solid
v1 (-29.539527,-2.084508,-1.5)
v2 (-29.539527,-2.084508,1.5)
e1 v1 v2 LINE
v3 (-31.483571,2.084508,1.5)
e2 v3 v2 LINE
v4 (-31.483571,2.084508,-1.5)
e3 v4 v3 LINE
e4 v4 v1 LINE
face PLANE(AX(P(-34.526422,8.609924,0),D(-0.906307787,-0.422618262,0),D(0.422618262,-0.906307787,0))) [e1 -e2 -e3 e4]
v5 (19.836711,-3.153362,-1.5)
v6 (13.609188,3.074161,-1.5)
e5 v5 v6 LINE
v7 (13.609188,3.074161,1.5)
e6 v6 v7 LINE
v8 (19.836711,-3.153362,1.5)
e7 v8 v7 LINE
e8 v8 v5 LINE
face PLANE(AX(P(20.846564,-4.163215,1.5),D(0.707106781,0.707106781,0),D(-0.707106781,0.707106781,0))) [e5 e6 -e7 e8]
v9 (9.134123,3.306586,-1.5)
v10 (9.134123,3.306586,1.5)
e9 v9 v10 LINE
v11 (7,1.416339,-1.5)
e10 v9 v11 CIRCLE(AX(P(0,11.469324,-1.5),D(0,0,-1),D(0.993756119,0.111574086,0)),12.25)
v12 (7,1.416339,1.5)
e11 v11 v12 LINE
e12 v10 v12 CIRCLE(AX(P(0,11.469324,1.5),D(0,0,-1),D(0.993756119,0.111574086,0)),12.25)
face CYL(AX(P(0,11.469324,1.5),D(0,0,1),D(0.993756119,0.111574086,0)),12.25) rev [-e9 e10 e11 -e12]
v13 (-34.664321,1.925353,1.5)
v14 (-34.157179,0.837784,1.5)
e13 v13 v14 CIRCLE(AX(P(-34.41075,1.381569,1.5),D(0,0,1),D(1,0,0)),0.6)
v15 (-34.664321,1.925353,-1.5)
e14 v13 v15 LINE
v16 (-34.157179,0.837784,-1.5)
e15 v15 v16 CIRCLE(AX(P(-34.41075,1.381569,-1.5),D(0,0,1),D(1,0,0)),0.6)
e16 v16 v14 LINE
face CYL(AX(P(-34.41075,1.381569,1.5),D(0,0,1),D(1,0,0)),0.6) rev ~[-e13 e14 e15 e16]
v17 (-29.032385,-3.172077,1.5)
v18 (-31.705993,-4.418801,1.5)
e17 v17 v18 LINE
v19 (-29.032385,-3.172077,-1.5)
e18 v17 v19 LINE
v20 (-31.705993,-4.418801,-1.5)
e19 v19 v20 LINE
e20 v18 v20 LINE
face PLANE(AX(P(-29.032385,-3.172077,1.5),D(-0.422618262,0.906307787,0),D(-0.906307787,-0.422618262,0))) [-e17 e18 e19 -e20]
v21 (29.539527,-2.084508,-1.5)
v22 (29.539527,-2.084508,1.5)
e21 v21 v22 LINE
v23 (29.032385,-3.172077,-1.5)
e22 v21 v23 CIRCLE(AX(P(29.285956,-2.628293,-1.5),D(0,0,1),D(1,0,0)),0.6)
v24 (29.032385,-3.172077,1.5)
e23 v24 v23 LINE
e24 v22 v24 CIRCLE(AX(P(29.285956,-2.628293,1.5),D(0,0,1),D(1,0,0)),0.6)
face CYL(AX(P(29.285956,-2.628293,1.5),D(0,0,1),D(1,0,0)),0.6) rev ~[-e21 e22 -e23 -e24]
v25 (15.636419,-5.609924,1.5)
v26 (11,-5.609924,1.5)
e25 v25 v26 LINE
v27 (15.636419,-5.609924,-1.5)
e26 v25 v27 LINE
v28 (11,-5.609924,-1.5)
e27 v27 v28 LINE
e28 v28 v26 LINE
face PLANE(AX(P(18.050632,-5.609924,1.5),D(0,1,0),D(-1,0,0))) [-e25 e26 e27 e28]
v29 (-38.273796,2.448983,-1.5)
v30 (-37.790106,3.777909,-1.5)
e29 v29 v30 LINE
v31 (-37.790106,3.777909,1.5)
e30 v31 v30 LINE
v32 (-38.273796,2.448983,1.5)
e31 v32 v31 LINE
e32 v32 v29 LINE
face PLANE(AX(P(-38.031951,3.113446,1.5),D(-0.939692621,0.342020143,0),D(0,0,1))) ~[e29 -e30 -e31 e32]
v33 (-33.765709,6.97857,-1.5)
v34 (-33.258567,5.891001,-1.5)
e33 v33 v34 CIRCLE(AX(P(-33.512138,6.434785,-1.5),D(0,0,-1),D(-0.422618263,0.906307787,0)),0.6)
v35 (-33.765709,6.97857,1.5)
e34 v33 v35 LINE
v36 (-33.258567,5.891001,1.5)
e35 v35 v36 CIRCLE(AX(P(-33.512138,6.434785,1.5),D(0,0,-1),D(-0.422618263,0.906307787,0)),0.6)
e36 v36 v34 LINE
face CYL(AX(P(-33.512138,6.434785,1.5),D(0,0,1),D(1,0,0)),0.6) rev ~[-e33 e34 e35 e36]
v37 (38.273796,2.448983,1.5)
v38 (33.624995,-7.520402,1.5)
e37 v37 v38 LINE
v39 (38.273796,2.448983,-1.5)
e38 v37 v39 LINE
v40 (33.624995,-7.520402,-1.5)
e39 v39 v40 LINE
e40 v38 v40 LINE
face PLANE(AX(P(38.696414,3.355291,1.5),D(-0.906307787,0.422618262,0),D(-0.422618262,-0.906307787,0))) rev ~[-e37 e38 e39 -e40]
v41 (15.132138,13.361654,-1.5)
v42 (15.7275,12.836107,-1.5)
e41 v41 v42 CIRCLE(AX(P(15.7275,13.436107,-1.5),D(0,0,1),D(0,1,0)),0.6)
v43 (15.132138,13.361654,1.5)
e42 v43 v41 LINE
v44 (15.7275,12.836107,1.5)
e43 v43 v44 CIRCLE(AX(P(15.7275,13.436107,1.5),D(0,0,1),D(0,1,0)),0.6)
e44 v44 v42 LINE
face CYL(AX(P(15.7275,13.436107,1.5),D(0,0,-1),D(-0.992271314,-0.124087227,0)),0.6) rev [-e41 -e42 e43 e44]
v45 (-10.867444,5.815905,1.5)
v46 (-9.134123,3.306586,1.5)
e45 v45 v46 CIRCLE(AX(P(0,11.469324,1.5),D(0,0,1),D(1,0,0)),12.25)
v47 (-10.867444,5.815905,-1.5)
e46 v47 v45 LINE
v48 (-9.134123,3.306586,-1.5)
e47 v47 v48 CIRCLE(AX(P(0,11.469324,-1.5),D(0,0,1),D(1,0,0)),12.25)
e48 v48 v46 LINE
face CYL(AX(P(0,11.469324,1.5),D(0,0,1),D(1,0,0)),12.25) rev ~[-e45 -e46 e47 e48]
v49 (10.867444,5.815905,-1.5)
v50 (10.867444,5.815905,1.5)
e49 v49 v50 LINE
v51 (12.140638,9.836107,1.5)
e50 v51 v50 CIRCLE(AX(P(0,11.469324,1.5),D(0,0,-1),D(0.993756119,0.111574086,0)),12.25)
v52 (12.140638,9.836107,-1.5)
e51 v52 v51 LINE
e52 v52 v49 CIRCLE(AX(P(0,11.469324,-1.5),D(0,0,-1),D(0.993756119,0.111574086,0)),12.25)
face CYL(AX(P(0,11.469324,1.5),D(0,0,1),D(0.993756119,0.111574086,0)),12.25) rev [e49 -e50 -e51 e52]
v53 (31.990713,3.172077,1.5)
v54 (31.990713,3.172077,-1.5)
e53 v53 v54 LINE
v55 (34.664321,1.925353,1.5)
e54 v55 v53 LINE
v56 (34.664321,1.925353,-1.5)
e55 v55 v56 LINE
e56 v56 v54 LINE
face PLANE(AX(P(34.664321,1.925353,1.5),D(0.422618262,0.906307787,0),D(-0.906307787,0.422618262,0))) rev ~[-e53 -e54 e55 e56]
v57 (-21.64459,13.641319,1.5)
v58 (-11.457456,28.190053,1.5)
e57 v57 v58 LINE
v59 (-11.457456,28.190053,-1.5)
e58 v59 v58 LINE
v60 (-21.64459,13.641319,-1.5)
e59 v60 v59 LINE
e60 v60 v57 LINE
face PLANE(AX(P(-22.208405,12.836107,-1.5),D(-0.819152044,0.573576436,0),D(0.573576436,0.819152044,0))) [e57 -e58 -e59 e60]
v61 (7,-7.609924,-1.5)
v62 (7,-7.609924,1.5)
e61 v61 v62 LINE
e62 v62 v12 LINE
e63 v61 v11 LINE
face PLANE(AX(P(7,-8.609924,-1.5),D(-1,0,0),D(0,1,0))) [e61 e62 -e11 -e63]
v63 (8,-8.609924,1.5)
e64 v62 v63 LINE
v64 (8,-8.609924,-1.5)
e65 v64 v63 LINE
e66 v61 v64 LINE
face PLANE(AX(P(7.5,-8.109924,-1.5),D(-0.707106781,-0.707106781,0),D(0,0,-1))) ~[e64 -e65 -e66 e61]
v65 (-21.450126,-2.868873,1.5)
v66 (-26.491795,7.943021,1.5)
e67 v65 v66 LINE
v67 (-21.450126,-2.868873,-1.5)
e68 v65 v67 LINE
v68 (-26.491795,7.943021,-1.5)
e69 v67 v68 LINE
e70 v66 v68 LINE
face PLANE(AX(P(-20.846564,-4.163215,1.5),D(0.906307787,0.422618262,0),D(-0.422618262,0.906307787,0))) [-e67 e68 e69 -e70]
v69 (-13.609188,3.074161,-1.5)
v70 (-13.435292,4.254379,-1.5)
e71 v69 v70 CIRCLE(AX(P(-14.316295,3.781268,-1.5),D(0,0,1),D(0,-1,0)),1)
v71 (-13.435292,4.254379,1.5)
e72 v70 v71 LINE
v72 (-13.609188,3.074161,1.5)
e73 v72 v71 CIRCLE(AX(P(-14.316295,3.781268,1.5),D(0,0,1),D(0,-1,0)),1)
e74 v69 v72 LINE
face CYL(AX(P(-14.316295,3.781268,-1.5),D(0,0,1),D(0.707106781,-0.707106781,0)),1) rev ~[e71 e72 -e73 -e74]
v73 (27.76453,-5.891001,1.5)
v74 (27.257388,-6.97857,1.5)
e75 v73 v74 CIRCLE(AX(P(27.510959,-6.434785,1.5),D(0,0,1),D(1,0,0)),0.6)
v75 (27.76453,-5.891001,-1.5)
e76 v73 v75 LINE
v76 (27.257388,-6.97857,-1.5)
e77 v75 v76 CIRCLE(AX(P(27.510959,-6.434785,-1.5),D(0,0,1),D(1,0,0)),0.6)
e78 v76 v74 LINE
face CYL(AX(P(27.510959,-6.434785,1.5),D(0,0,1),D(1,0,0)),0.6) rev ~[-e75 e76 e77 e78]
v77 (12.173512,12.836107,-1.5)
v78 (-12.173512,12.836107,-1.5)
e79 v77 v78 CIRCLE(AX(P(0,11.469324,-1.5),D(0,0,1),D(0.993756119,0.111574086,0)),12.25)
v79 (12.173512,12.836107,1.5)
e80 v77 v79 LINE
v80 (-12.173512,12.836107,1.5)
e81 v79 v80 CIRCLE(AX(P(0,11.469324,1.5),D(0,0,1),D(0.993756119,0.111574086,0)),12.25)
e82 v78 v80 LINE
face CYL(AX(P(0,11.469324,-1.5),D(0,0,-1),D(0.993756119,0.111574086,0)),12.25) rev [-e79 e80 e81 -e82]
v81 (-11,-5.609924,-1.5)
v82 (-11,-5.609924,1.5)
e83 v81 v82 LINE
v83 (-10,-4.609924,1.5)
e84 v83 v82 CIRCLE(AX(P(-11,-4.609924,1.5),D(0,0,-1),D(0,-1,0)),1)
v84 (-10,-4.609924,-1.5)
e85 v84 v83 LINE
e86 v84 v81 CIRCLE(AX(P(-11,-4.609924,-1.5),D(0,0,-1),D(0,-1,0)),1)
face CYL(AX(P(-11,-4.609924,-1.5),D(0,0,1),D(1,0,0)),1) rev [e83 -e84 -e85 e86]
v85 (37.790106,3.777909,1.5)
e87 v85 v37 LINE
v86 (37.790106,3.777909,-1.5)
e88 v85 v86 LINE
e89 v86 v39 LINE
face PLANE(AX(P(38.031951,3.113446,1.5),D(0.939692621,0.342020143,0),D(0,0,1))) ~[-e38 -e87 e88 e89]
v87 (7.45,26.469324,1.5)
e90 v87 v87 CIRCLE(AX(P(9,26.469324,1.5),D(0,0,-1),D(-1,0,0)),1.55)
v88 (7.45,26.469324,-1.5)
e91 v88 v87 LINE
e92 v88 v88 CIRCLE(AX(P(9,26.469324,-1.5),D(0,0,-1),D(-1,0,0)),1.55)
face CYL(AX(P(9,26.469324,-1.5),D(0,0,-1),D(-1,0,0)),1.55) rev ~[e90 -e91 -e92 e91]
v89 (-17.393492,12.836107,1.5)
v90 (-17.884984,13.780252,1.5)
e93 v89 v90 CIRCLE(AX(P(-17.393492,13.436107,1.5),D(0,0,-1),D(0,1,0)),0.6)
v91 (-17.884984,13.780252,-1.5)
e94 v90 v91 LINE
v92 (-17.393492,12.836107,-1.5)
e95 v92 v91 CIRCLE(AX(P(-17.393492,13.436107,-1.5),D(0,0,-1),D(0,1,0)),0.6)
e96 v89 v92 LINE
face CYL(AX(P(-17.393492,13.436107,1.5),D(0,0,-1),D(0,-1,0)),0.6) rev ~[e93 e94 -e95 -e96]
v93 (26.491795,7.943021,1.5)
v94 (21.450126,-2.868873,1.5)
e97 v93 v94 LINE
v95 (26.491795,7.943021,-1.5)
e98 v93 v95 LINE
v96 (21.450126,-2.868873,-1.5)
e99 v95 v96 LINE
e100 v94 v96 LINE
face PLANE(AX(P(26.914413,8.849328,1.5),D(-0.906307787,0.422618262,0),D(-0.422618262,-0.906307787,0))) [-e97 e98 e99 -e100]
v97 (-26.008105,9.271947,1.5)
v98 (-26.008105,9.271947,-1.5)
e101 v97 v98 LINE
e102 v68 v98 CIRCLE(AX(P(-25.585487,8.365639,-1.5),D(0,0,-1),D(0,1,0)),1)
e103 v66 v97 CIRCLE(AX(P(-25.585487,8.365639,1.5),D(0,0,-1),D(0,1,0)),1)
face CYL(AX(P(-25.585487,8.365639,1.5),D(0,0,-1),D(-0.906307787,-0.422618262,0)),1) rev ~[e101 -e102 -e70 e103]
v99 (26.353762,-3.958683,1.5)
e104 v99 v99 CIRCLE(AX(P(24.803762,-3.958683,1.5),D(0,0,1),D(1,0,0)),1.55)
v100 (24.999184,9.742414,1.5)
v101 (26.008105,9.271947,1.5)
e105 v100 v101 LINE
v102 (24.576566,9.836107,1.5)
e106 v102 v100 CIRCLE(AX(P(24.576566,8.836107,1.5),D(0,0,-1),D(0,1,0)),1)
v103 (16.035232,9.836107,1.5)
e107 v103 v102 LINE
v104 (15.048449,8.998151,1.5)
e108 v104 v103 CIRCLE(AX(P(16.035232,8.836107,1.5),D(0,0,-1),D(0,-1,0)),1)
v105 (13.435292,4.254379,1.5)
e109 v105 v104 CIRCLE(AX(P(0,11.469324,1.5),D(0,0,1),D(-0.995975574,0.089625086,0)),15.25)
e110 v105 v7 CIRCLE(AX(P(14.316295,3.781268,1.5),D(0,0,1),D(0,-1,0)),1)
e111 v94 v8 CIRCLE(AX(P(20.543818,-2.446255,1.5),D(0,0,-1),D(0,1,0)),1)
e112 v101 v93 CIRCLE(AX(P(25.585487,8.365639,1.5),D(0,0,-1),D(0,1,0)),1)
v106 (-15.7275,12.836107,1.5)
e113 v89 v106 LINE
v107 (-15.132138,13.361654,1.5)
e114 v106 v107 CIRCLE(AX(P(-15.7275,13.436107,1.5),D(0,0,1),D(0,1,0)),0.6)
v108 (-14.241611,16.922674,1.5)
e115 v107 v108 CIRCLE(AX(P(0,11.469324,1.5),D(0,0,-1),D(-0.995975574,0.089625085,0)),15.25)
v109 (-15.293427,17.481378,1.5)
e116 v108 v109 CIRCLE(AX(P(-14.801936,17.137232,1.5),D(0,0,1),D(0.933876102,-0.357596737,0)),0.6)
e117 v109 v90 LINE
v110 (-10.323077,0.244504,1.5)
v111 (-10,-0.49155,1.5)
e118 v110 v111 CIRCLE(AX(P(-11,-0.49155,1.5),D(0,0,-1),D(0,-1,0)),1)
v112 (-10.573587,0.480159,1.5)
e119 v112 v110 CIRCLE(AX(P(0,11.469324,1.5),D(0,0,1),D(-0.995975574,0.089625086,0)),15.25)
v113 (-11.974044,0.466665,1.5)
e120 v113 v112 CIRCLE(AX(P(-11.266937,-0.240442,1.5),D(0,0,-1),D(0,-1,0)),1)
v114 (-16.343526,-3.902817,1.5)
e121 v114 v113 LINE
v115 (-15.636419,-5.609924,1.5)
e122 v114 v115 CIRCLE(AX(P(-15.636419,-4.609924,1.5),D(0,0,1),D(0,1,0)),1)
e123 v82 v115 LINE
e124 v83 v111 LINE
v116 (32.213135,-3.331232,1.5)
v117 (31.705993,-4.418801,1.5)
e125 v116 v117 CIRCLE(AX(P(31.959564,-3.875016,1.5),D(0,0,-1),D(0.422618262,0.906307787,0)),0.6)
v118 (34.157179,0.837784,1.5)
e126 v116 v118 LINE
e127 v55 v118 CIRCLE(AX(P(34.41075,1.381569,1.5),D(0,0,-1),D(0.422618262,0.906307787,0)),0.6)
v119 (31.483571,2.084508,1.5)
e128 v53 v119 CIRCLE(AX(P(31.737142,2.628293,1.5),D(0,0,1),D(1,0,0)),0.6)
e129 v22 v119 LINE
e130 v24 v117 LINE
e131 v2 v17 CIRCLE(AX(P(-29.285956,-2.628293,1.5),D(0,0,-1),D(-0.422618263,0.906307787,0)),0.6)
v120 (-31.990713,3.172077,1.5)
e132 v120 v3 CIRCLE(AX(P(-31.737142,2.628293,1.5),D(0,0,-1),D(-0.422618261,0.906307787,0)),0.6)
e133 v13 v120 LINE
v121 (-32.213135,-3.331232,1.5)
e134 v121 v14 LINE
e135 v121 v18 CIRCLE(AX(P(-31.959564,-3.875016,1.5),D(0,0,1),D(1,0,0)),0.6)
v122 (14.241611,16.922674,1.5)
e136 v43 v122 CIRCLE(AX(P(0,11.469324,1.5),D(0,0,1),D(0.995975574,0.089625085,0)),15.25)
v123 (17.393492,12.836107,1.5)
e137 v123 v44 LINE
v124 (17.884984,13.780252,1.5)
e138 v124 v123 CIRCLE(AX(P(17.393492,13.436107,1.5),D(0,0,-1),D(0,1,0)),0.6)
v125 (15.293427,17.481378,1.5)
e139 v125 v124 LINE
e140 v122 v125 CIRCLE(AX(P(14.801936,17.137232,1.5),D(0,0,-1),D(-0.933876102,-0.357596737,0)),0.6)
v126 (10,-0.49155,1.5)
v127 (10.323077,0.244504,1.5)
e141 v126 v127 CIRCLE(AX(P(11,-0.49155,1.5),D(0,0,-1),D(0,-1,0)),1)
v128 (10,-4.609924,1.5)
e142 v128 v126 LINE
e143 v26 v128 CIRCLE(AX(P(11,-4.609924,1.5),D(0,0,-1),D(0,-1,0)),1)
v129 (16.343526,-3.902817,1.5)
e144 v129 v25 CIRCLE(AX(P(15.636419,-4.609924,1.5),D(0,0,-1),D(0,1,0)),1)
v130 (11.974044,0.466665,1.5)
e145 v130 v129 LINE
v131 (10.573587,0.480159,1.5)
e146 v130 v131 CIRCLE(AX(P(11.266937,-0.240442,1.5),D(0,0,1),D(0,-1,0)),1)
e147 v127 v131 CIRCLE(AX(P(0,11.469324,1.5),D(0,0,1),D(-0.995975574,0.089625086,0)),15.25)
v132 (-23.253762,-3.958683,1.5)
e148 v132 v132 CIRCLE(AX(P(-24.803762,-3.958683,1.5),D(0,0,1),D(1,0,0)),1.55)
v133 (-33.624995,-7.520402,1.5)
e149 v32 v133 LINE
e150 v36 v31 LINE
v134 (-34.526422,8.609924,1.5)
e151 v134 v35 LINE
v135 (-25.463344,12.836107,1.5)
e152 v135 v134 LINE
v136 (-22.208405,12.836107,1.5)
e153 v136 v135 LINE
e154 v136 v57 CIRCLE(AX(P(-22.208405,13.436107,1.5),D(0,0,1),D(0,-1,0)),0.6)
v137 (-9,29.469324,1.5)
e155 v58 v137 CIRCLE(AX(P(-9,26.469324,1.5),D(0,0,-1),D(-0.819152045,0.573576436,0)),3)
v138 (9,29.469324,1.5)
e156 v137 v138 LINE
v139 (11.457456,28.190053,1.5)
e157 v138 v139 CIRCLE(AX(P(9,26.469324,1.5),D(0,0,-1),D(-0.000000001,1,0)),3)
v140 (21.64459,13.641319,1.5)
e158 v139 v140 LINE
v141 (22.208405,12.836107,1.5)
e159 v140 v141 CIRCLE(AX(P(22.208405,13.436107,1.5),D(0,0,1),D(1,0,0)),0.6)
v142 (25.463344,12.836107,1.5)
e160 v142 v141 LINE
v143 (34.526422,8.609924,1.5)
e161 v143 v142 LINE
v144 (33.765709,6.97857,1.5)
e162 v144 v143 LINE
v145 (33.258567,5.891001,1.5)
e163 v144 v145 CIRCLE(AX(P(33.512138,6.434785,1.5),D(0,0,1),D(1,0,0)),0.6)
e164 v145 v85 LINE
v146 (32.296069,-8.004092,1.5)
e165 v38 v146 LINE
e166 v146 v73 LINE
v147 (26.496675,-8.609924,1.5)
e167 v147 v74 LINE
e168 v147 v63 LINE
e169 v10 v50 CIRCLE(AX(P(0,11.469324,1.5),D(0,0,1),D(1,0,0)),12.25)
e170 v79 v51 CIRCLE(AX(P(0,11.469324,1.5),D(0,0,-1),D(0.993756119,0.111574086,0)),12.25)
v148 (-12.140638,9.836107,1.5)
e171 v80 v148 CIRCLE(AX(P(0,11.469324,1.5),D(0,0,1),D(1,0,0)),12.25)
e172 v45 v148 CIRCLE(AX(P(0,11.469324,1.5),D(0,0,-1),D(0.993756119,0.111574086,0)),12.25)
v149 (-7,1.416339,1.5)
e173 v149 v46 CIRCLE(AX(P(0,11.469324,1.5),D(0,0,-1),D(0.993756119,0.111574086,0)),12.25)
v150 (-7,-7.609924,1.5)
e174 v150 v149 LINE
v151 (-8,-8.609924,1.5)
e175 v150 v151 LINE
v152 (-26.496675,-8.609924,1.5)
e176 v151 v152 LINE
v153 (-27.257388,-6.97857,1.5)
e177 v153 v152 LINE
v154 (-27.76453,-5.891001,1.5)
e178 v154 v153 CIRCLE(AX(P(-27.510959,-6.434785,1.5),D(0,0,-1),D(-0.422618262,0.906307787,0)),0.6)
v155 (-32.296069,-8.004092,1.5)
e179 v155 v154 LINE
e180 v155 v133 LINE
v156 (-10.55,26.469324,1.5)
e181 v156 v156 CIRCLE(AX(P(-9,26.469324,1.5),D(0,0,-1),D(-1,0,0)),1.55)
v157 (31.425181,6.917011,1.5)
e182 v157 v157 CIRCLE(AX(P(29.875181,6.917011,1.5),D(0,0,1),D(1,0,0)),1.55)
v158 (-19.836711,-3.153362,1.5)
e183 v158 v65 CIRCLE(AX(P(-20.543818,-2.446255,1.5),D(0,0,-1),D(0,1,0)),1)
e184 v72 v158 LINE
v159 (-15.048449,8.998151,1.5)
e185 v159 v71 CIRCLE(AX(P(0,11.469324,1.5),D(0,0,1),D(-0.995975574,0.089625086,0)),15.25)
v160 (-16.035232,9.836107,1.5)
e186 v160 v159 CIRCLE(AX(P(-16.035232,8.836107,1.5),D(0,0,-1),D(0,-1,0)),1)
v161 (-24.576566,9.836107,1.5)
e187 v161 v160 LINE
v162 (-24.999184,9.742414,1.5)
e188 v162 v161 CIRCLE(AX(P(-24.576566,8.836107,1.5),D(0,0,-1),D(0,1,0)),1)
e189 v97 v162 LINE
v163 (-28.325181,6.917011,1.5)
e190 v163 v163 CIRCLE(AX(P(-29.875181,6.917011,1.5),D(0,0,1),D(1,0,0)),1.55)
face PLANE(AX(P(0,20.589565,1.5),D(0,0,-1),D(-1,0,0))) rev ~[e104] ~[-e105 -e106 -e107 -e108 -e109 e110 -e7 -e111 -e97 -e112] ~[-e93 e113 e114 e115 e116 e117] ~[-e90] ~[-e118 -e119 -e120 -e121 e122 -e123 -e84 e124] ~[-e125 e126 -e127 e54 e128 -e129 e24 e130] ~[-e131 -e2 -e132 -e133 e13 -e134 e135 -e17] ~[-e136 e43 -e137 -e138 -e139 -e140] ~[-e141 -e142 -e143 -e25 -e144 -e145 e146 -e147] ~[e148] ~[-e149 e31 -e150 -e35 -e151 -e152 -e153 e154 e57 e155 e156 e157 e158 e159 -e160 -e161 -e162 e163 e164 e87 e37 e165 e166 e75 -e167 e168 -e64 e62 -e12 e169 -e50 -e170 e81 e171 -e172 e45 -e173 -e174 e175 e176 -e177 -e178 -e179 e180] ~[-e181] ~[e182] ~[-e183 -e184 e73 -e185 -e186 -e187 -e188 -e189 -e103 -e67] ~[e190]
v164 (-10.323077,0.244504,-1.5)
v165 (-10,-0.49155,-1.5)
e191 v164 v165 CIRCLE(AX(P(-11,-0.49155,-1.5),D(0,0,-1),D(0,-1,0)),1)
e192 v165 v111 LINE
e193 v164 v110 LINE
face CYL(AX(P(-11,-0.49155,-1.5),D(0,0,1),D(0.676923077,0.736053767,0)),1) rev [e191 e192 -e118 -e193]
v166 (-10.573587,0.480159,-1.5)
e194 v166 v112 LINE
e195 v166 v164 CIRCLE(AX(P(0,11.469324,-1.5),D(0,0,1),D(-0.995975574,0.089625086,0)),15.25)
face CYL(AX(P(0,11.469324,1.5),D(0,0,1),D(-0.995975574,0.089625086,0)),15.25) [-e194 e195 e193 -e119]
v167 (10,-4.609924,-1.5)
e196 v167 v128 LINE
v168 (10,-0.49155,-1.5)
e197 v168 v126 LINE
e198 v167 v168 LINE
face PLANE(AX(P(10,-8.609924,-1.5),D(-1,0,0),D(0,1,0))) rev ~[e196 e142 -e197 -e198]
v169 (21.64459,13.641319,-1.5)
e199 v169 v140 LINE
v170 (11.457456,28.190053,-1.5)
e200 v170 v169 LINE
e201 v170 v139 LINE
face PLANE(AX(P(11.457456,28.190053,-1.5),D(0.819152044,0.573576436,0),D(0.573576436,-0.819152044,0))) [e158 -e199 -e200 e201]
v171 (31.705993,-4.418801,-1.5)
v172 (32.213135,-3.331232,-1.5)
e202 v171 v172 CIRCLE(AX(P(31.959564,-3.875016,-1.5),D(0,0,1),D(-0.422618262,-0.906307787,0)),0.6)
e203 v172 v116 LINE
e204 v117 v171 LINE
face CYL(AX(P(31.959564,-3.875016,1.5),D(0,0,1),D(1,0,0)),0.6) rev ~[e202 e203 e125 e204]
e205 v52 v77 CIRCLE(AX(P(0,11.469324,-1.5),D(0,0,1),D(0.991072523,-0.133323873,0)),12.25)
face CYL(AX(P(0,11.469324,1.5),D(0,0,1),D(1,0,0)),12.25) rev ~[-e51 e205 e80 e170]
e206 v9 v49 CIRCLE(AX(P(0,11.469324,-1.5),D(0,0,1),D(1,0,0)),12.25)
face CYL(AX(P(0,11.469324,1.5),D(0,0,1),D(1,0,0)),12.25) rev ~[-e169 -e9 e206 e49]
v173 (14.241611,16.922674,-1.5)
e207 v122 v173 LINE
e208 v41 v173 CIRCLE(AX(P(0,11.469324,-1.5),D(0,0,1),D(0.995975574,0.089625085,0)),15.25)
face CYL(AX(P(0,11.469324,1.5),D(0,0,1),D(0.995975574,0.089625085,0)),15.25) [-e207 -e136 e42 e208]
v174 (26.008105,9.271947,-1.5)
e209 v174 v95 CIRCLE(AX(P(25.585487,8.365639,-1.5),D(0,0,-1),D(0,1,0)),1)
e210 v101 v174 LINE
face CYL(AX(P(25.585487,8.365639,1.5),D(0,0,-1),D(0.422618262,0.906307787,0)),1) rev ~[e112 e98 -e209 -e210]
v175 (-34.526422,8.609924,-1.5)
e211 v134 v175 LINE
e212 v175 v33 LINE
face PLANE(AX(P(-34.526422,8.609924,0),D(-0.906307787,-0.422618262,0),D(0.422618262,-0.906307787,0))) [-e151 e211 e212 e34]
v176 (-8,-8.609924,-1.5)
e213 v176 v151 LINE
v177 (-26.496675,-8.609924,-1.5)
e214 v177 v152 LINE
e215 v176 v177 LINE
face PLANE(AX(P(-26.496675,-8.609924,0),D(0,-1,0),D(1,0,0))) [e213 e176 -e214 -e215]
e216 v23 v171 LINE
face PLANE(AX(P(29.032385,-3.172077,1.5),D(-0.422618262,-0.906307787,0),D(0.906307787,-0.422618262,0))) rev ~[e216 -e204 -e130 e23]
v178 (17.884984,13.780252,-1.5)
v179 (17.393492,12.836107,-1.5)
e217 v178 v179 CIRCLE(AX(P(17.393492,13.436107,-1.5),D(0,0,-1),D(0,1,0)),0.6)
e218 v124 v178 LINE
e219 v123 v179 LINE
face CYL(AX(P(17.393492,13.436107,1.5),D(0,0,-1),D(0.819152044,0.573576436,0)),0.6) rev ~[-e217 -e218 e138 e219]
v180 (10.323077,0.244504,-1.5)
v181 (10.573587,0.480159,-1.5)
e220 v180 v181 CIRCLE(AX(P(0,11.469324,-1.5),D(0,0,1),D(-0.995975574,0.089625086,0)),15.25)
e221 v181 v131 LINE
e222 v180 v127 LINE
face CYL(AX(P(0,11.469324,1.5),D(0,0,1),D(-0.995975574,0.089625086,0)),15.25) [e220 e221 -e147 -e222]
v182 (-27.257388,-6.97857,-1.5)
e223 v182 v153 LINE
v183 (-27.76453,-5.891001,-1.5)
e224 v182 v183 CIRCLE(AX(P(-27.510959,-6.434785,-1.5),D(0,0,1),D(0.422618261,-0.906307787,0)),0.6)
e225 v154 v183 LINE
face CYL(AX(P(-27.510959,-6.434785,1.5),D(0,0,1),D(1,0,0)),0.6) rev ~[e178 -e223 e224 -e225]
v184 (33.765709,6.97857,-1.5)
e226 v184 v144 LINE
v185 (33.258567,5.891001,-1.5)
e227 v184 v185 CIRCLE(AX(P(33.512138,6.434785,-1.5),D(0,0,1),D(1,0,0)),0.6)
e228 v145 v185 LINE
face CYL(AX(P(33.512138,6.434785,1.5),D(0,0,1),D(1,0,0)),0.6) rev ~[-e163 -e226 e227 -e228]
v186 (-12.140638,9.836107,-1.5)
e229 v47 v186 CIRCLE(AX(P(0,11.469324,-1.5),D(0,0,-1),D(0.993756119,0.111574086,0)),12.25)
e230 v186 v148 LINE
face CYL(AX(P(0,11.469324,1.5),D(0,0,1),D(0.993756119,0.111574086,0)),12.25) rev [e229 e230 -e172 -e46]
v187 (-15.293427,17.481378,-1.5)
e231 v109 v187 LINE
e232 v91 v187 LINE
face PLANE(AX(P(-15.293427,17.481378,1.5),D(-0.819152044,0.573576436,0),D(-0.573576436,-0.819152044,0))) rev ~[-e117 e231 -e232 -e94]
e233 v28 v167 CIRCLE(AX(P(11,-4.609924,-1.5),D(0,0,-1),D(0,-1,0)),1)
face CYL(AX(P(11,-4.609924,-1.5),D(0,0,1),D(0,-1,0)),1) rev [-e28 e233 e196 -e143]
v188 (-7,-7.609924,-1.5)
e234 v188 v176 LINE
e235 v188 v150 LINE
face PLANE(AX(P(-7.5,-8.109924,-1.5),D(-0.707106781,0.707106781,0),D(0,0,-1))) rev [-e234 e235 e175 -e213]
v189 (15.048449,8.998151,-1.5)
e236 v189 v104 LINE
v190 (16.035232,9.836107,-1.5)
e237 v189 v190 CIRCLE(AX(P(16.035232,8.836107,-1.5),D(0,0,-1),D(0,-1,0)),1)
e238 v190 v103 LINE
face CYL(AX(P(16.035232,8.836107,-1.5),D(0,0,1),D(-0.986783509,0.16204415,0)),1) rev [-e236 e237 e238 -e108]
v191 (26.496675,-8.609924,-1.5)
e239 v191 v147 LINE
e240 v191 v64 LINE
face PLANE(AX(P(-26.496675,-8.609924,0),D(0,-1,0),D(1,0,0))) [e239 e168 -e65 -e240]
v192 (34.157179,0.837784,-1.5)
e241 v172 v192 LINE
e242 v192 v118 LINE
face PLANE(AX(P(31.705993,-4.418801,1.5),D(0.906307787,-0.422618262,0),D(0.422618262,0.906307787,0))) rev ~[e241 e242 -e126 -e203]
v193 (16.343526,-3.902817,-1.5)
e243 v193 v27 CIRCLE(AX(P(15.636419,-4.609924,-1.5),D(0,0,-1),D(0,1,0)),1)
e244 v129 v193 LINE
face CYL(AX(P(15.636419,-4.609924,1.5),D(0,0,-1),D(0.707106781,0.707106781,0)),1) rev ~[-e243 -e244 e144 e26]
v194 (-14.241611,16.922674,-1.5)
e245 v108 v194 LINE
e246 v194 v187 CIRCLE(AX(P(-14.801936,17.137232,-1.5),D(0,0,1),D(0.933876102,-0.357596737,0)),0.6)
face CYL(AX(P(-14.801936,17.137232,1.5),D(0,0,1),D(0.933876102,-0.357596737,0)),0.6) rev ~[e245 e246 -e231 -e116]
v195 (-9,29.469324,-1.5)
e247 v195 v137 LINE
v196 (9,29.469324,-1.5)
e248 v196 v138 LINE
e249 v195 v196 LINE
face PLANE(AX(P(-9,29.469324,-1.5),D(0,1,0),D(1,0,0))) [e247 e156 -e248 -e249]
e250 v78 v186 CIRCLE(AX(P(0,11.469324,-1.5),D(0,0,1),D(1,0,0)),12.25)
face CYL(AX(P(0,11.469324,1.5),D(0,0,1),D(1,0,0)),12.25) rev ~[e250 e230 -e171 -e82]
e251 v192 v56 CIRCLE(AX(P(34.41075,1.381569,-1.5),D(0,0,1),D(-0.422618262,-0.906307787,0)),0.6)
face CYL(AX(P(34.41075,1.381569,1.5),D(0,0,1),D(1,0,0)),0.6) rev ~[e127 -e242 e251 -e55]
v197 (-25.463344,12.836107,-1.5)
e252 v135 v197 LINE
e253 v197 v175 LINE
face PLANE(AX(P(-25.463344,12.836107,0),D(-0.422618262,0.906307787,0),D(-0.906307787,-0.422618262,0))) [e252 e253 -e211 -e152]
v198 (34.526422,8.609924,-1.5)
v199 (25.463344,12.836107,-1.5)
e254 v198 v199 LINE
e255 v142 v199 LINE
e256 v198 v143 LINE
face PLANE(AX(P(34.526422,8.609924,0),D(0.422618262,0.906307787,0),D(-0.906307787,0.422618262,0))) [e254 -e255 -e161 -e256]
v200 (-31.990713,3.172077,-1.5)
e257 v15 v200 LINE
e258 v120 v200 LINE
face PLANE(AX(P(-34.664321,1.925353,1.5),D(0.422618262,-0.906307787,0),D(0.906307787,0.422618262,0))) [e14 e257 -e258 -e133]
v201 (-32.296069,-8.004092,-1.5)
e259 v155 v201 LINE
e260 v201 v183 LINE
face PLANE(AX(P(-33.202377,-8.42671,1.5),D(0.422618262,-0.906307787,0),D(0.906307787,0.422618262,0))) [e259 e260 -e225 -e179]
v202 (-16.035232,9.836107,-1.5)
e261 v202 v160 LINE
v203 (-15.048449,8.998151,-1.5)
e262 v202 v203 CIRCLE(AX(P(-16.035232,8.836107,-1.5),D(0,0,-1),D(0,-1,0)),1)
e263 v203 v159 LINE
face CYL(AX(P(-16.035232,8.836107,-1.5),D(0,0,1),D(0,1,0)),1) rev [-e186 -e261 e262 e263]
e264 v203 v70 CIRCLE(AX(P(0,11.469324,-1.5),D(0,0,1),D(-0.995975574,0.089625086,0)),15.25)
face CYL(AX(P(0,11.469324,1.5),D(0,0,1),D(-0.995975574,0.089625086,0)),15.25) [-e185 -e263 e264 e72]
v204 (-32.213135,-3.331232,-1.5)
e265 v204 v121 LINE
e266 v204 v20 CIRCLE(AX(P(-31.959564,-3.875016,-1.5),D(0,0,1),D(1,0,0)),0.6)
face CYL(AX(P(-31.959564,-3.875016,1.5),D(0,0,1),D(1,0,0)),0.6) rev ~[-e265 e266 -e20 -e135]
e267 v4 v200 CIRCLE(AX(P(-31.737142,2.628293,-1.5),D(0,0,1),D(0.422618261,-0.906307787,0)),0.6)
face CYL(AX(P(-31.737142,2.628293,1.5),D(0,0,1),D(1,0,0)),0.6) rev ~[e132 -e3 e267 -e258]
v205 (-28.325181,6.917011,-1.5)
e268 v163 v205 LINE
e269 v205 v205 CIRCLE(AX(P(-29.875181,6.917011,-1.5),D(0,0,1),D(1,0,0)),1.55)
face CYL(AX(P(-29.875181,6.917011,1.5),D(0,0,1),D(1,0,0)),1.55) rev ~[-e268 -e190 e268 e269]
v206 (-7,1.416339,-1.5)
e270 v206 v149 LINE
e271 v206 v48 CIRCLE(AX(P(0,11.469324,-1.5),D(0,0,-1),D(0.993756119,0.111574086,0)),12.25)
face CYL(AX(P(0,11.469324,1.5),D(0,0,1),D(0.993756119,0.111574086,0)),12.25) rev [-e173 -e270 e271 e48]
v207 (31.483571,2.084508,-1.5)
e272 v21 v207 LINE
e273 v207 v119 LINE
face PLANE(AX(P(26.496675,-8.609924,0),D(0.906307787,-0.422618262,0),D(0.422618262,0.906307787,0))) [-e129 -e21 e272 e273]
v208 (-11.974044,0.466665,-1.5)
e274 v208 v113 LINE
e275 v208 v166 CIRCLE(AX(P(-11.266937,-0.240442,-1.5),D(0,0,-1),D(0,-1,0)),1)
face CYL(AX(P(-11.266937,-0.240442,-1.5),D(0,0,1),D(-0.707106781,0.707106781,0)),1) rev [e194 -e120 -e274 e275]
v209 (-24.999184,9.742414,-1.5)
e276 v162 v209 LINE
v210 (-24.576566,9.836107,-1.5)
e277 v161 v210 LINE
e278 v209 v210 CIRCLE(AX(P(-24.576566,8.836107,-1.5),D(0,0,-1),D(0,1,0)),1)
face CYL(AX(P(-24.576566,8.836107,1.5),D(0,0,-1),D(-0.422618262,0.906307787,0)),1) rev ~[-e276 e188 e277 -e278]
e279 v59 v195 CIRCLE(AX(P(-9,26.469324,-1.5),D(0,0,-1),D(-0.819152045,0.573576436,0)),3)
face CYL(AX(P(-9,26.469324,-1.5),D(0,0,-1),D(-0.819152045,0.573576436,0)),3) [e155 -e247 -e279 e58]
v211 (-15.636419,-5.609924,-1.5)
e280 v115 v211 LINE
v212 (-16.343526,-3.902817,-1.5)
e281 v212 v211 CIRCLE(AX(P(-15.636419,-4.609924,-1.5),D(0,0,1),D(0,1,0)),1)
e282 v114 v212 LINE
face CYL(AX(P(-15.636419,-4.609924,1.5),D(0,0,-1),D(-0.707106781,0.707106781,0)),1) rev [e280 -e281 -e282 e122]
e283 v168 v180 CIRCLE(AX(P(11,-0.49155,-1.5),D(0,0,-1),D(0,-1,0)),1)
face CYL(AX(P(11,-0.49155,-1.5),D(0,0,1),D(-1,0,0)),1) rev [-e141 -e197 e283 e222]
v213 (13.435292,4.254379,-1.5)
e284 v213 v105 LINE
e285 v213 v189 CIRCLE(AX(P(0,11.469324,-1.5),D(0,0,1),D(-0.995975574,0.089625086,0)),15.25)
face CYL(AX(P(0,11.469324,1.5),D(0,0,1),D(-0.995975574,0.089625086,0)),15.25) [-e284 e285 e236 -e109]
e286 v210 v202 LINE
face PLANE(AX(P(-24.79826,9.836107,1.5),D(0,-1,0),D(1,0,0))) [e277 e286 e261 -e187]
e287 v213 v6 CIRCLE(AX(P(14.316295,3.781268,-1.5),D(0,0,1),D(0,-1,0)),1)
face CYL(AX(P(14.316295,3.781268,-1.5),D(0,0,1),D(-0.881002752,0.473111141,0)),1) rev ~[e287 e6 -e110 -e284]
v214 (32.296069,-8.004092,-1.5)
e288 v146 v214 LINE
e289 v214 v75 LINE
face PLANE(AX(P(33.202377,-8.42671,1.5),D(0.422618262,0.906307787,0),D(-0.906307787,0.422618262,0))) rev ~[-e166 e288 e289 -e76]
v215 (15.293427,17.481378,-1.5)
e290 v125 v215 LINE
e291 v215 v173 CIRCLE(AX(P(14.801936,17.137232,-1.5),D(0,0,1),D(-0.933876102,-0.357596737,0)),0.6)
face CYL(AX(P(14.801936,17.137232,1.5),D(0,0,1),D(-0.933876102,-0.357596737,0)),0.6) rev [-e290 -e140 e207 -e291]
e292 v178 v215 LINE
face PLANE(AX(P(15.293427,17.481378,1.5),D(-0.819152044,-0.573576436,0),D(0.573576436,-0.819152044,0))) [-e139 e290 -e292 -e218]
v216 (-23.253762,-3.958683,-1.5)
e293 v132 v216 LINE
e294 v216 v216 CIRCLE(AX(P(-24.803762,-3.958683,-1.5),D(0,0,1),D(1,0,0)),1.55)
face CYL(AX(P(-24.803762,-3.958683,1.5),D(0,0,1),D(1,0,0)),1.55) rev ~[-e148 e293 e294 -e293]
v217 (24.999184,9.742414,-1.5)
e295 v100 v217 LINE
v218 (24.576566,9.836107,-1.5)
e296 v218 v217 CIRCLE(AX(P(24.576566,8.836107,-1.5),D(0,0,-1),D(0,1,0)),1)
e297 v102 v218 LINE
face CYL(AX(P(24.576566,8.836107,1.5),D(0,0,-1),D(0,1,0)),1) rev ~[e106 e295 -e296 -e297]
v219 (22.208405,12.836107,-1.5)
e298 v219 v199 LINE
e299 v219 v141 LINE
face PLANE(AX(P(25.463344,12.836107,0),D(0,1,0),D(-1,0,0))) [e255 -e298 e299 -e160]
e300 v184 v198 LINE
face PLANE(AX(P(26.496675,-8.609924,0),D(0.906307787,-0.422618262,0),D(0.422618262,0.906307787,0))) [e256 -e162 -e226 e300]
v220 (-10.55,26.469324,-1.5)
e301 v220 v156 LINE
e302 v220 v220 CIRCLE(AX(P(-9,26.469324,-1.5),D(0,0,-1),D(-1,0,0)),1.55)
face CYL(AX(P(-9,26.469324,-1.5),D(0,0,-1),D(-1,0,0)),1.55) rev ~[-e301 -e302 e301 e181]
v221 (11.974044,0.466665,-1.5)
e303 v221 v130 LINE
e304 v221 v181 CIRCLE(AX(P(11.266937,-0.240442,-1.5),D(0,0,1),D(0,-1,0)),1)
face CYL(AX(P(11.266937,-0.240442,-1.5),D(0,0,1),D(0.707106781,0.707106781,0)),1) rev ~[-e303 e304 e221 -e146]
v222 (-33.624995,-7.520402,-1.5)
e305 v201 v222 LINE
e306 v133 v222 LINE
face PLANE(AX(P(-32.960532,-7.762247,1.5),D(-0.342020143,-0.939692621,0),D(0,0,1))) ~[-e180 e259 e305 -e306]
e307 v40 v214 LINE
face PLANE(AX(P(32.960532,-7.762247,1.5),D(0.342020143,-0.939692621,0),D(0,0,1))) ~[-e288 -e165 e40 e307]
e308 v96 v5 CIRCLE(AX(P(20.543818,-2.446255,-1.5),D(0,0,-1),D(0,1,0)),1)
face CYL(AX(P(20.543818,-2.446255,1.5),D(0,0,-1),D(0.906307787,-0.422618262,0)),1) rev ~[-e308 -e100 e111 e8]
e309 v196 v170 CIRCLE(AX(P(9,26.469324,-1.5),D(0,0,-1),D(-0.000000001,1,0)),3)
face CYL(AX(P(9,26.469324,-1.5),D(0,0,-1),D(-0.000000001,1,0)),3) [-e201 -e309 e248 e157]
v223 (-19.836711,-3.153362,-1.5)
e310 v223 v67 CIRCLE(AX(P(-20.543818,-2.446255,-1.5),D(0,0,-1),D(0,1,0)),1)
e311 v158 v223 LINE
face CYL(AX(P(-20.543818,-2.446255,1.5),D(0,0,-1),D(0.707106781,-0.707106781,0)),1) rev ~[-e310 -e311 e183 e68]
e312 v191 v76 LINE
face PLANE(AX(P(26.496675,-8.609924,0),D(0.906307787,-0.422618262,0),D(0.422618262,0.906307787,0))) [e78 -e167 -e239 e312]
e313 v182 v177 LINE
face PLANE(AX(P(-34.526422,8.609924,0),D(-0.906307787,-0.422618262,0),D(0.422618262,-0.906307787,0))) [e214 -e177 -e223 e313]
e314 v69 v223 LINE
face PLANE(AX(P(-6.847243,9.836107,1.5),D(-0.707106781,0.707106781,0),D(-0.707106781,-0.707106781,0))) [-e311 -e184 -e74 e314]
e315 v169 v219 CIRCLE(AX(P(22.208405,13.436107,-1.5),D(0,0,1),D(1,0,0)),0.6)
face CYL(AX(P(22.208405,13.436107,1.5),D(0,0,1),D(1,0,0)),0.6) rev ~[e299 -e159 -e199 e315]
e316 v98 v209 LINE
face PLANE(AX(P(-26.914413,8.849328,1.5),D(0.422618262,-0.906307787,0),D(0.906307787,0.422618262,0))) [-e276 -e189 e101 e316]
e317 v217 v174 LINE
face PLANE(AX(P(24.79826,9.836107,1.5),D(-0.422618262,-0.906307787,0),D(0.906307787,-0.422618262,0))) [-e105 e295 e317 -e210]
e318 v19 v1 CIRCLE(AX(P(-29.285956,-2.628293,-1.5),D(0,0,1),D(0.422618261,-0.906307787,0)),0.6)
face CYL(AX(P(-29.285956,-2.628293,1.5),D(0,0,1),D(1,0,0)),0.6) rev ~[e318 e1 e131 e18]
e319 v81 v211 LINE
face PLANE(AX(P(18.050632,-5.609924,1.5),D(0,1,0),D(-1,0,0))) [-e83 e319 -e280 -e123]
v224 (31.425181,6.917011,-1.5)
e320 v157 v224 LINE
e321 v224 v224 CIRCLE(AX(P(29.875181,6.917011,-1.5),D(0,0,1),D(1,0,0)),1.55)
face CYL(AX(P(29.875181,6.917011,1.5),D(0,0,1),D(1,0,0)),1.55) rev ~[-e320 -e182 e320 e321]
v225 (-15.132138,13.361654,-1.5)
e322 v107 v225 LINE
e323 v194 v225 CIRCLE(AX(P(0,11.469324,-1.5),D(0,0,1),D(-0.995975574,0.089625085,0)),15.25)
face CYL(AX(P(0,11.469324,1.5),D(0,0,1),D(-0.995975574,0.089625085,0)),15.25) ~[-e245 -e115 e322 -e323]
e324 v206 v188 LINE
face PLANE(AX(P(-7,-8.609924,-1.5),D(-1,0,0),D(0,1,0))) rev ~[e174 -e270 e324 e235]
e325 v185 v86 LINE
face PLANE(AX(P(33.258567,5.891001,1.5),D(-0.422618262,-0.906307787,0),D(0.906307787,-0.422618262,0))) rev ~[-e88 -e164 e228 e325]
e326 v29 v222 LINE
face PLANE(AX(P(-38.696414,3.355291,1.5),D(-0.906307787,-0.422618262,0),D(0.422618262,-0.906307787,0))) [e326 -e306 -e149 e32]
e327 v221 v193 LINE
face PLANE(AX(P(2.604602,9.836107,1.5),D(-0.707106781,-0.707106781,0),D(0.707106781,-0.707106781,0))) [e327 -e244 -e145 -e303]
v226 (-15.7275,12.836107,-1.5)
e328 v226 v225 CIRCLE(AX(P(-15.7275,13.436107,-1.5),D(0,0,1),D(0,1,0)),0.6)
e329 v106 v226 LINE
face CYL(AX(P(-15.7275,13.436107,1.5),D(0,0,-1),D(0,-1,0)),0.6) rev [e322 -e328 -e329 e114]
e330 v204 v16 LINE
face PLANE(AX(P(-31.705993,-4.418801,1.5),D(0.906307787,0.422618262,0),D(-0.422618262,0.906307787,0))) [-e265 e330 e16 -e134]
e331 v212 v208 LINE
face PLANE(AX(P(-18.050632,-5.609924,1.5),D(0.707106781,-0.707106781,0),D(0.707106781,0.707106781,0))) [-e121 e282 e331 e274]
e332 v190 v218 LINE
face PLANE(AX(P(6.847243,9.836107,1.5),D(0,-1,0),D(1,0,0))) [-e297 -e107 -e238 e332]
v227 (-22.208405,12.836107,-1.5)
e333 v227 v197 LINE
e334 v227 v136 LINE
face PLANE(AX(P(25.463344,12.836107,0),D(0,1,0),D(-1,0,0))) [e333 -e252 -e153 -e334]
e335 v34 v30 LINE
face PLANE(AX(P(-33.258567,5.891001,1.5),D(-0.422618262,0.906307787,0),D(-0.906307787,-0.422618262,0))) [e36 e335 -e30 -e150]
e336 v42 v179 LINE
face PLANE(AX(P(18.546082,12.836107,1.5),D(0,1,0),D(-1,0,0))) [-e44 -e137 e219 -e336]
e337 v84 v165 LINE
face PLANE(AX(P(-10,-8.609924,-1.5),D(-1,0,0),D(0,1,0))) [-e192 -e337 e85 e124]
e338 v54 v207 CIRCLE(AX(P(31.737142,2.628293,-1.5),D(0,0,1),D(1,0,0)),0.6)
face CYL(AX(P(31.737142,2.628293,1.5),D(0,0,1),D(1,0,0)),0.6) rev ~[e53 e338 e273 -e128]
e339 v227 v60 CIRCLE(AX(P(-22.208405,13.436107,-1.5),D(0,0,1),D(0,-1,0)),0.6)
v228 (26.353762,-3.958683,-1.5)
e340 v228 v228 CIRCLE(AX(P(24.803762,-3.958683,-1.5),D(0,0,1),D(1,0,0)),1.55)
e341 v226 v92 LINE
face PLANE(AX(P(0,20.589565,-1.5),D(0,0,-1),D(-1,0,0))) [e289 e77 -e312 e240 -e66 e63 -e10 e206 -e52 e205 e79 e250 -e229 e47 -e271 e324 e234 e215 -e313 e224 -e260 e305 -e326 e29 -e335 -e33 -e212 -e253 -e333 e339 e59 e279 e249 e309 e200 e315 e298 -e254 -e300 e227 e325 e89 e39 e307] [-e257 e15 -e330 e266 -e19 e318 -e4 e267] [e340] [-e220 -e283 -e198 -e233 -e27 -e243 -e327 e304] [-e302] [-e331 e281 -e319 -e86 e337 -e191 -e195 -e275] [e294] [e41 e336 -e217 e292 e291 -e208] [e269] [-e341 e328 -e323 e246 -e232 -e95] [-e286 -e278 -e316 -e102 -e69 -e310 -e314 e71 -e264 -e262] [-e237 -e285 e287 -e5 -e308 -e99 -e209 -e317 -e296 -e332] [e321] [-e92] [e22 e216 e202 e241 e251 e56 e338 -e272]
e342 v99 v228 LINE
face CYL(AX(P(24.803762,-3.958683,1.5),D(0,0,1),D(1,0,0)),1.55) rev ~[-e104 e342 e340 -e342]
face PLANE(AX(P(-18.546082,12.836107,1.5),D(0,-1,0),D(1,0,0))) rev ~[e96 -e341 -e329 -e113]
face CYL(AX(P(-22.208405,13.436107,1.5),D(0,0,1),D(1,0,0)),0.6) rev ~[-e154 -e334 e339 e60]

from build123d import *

# Parameters (mm, degrees)
EXTRUDE_1_DEPTH     = 1.5
EXTRUDE_2_DEPTH     = 3
SKETCH_3_R          = 0.6
CUT_EXTRUDE_1_DEPTH = 4
SKETCH_4_R          = 1.55
CUT_EXTRUDE_2_DEPTH = 4
CUT_EXTRUDE_5_DEPTH = 4
SKETCH_9_R          = 12.25
CUT_EXTRUDE_6_DEPTH = 4
EXTRUDE_4_DEPTH     = 3
SKETCH_12_R         = 1.55
EXTRUDE_5_DEPTH     = 3
SKETCH_13_W         = 14
SKETCH_13_H         = 10.026263385
CUT_EXTRUDE_7_DEPTH = 4
SKETCH_14_W         = 3
SKETCH_14_H         = 10.026263385
EXTRUDE_6_DEPTH     = 3
FILLET_1_R          = 1
CHAMFER_1_SIZE      = 1
SKETCH_15_R         = 0.6
CUT_EXTRUDE_8_DEPTH = 4
CUT_EXTRUDE_9_DEPTH = 4
FILLET_2_R          = 0.6


with BuildPart() as part:
    # 草图1 → 凸台-拉伸1 (new body, symmetric)
    with BuildSketch(Plane.XY):
        Polygon((-34.52642222, 8.609923977), (-26.496675247, -8.609923977), (26.496675247, -8.609923977), (34.52642222, 8.609923977), (25.463344349, 12.836106594), (-25.463344349, 12.836106594), align=None)
    extrude(amount=EXTRUDE_1_DEPTH, both=True)

    # 草图2 → 凸台-拉伸2 (add)
    with BuildSketch(Plane.XY.offset(1.5)):
        Polygon((-33.258567434, 5.891000616), (-38.696414157, 3.355291045), (-33.202376754, -8.426710186), (-27.764530032, -5.891000616), (-29.032384817, -3.172077255), (-31.705992789, -4.418801127), (-34.664320621, 1.925353382), (-31.990712649, 3.172077255), align=None)
        Polygon((38.696414157, 3.355291045), (33.202376754, -8.426710186), (27.764530032, -5.891000616), (29.032384817, -3.172077255), (31.705992789, -4.418801127), (34.664320621, 1.925353382), (31.990712649, 3.172077255), (33.258567434, 5.891000616), align=None)
    extrude(amount=-EXTRUDE_2_DEPTH)

    # 草图3 → 切除-拉伸1 (cut, through all)
    with BuildSketch(Plane.XY.offset(1.5)):
        with Locations((-33.512138391, 6.434785288)):
            Circle(SKETCH_3_R)
        with Locations((-34.410749664, 1.38156871)):
            Circle(SKETCH_3_R)
        with Locations((-31.959563746, -3.875016455)):
            Circle(SKETCH_3_R)
        with Locations((-29.285955774, -2.628292582)):
            Circle(SKETCH_3_R)
        with Locations((-31.737141692, 2.628292582)):
            Circle(SKETCH_3_R)
        with Locations((-27.510959075, -6.434785288)):
            Circle(SKETCH_3_R)
        with Locations((27.510959075, -6.434785288)):
            Circle(SKETCH_3_R)
        with Locations((31.737141692, 2.628292582)):
            Circle(SKETCH_3_R)
        with Locations((29.285955774, -2.628292582)):
            Circle(SKETCH_3_R)
        with Locations((31.959563746, -3.875016455)):
            Circle(SKETCH_3_R)
        with Locations((34.410749664, 1.38156871)):
            Circle(SKETCH_3_R)
        with Locations((33.512138391, 6.434785288)):
            Circle(SKETCH_3_R)
    extrude(amount=-CUT_EXTRUDE_1_DEPTH, mode=Mode.SUBTRACT)

    # 草图4 → 切除-拉伸2 (cut, through all)
    with BuildSketch(Plane.XY.offset(1.5)):
        with Locations((-29.875181049, 6.917010638)):
            Circle(SKETCH_4_R)
        with Locations((-24.803761908, -3.958682806)):
            Circle(SKETCH_4_R)
        with Locations((24.803761908, -3.958682806)):
            Circle(SKETCH_4_R)
        with Locations((29.875181049, 6.917010638)):
            Circle(SKETCH_4_R)
    extrude(amount=-CUT_EXTRUDE_2_DEPTH, mode=Mode.SUBTRACT)

    # 草图5 → 切除-拉伸5 (cut, through all)
    with BuildSketch(Plane.XY.offset(1.5)):
        Polygon((-24.798260361, 9.836106594), (-6.847242561, 9.836106594), (-20.846564229, -4.163215074), (-26.914412925, 8.849328448), align=None)
        Polygon((26.914412925, 8.849328448), (20.846564229, -4.163215074), (6.847242561, 9.836106594), (24.798260361, 9.836106594), align=None)
        Polygon((18.050632445, -5.609923977), (-18.050632445, -5.609923977), (-2.604601874, 9.836106594), (2.604601874, 9.836106594), align=None)
    extrude(amount=-CUT_EXTRUDE_5_DEPTH, mode=Mode.SUBTRACT)

    # 草图9 → 切除-拉伸6 (cut, through all)
    with BuildSketch(Plane.XY.offset(1.5)):
        with Locations((0, 11.469324039)):
            Circle(SKETCH_9_R)
    extrude(amount=-CUT_EXTRUDE_6_DEPTH, mode=Mode.SUBTRACT)

    # 草图10 → 凸台-拉伸4 (add)
    with BuildSketch(Plane.XY.offset(1.5)):
        with BuildLine():
            Line((-12.173512453, 12.836106594), (-15.188627504, 12.836106594))
            ThreePointArc((-15.188627504, 12.836106594), (0, -3.780675961), (15.188627504, 12.836106594))
            Line((15.188627504, 12.836106594), (12.173512453, 12.836106594))
            ThreePointArc((12.173512453, 12.836106594), (0, -0.780675961), (-12.173512453, 12.836106594))
        make_face()
    extrude(amount=-EXTRUDE_4_DEPTH)

    # 草图12 → 凸台-拉伸5 (add)
    with BuildSketch(Plane(origin=(0, 0, -1.5), x_dir=(-1, 0, 0), z_dir=(0, 0, -1))):
        with BuildLine():
            Line((-11.457456133, 28.190053348), (-22.208405391, 12.836106594))
            Line((-22.208405391, 12.836106594), (-12.173512453, 12.836106594))
            ThreePointArc((-12.173512453, 12.836106594), (0, 23.719324039), (12.173512453, 12.836106594))
            Line((12.173512453, 12.836106594), (22.208405391, 12.836106594))
            Line((22.208405391, 12.836106594), (11.457456133, 28.190053348))
            ThreePointArc((11.457456133, 28.190053348), (10.38524584, 29.130356539), (9, 29.469324039))
            Line((9, 29.469324039), (-9, 29.469324039))
            ThreePointArc((-9, 29.469324039), (-10.38524584, 29.130356539), (-11.457456133, 28.190053348))
        make_face()
        with Locations((-9, 26.469324039)):
            Circle(SKETCH_12_R, mode=Mode.SUBTRACT)
        with Locations((9, 26.469324039)):
            Circle(SKETCH_12_R, mode=Mode.SUBTRACT)
    extrude(amount=-EXTRUDE_5_DEPTH)

    # 草图13 → 切除-拉伸7 (cut, through all)
    with BuildSketch(Plane(origin=(0, 0, -1.5), x_dir=(-1, 0, 0), z_dir=(0, 0, -1))):
        with Locations((0, -3.596792285)):
            Rectangle(SKETCH_13_W, SKETCH_13_H)
    extrude(amount=-CUT_EXTRUDE_7_DEPTH, mode=Mode.SUBTRACT)

    # 草图14 → 凸台-拉伸6 (add)
    with BuildSketch(Plane(origin=(0, 0, -1.5), x_dir=(-1, 0, 0), z_dir=(0, 0, -1))):
        with Locations((-8.5, -3.596792285)):
            Rectangle(SKETCH_14_W, SKETCH_14_H)
        with Locations((8.5, -3.596792285)):
            Rectangle(SKETCH_14_W, SKETCH_14_H)
    extrude(amount=-EXTRUDE_6_DEPTH)

    # 圆角1
    fillet_1_edges = [part.edges().sort_by_distance(p)[0] for p in [
        (24.798260361, 9.836106594, 0),
        (26.914412925, 8.849328448, 0),
        (20.846564229, -4.163215074, 0),
        (18.050632445, -5.609923977, 0),
        (-18.050632445, -5.609923977, 0),
        (-26.914412925, 8.849328448, 0),
        (-24.798260361, 9.836106594, 0),
        (-20.846564229, -4.163215074, 0),
        (15.162292069, 9.836106594, 0),
        (-15.162292069, 9.836106594, 0),
        (11.258127086, 1.182581381, 0),
        (13.070507936, 3.612841219, 0),
        (-13.070507936, 3.612841219, 0),
        (-11.258127086, 1.182581381, 0),
        (10, -0.044254901, 0),
        (10, -5.609923977, 0),
        (-10, -0.044254901, 0),
        (-10, -5.609923977, 0),
    ]]
    fillet(fillet_1_edges, radius=FILLET_1_R)

    # 倒角1
    chamfer_1_edges = [part.edges().sort_by_distance(p)[0] for p in [
        (-33.202376754, -8.426710186, 0),
        (-38.696414157, 3.355291045, 0),
        (7, -8.609923977, 0),
        (-7, -8.609923977, 0),
        (38.696414157, 3.355291045, 0),
        (33.202376754, -8.426710186, 0),
    ]]
    chamfer(chamfer_1_edges, length=CHAMFER_1_SIZE)

    # 草图15 → 切除-拉伸8 (cut, through all)
    with BuildSketch(Plane.XY.offset(1.5)):
        with Locations((-22.208405391, 13.436106594)):
            Circle(SKETCH_15_R)
        with Locations((22.208405391, 13.436106594)):
            Circle(SKETCH_15_R)
    extrude(amount=-CUT_EXTRUDE_8_DEPTH, mode=Mode.SUBTRACT)

    # 草图16 → 切除-拉伸9 (cut, through all)
    with BuildSketch(Plane.XY.offset(1.5)):
        with BuildLine():
            Line((-18.546081625, 12.836106594), (-15.188627504, 12.836106594))
            ThreePointArc((-15.188627504, 12.836106594), (-14.856302935, 14.912108248), (-14.241610553, 16.922674279))
            ThreePointArc((-14.241610553, 16.922674279), (-14.520472082, 17.66711716), (-15.293427441, 17.481378183))
            Line((-15.293427441, 17.481378183), (-18.546081625, 12.836106594))
        make_face()
        with BuildLine():
            Line((18.546081625, 12.836106594), (15.188627504, 12.836106594))
            ThreePointArc((15.188627504, 12.836106594), (14.856302935, 14.912108248), (14.241610553, 16.922674279))
            ThreePointArc((14.241610553, 16.922674279), (14.520472082, 17.66711716), (15.293427441, 17.481378183))
            Line((15.293427441, 17.481378183), (18.546081625, 12.836106594))
        make_face()
    extrude(amount=-CUT_EXTRUDE_9_DEPTH, mode=Mode.SUBTRACT)

    # 圆角2
    fillet_2_edges = [part.edges().sort_by_distance(p)[0] for p in [
        (-15.188627504, 12.836106594, 0),
        (-18.546081625, 12.836106594, 0),
        (15.188627504, 12.836106594, 0),
        (18.546081625, 12.836106594, 0),
    ]]
    fillet(fillet_2_edges, radius=FILLET_2_R)


solid = part.part
